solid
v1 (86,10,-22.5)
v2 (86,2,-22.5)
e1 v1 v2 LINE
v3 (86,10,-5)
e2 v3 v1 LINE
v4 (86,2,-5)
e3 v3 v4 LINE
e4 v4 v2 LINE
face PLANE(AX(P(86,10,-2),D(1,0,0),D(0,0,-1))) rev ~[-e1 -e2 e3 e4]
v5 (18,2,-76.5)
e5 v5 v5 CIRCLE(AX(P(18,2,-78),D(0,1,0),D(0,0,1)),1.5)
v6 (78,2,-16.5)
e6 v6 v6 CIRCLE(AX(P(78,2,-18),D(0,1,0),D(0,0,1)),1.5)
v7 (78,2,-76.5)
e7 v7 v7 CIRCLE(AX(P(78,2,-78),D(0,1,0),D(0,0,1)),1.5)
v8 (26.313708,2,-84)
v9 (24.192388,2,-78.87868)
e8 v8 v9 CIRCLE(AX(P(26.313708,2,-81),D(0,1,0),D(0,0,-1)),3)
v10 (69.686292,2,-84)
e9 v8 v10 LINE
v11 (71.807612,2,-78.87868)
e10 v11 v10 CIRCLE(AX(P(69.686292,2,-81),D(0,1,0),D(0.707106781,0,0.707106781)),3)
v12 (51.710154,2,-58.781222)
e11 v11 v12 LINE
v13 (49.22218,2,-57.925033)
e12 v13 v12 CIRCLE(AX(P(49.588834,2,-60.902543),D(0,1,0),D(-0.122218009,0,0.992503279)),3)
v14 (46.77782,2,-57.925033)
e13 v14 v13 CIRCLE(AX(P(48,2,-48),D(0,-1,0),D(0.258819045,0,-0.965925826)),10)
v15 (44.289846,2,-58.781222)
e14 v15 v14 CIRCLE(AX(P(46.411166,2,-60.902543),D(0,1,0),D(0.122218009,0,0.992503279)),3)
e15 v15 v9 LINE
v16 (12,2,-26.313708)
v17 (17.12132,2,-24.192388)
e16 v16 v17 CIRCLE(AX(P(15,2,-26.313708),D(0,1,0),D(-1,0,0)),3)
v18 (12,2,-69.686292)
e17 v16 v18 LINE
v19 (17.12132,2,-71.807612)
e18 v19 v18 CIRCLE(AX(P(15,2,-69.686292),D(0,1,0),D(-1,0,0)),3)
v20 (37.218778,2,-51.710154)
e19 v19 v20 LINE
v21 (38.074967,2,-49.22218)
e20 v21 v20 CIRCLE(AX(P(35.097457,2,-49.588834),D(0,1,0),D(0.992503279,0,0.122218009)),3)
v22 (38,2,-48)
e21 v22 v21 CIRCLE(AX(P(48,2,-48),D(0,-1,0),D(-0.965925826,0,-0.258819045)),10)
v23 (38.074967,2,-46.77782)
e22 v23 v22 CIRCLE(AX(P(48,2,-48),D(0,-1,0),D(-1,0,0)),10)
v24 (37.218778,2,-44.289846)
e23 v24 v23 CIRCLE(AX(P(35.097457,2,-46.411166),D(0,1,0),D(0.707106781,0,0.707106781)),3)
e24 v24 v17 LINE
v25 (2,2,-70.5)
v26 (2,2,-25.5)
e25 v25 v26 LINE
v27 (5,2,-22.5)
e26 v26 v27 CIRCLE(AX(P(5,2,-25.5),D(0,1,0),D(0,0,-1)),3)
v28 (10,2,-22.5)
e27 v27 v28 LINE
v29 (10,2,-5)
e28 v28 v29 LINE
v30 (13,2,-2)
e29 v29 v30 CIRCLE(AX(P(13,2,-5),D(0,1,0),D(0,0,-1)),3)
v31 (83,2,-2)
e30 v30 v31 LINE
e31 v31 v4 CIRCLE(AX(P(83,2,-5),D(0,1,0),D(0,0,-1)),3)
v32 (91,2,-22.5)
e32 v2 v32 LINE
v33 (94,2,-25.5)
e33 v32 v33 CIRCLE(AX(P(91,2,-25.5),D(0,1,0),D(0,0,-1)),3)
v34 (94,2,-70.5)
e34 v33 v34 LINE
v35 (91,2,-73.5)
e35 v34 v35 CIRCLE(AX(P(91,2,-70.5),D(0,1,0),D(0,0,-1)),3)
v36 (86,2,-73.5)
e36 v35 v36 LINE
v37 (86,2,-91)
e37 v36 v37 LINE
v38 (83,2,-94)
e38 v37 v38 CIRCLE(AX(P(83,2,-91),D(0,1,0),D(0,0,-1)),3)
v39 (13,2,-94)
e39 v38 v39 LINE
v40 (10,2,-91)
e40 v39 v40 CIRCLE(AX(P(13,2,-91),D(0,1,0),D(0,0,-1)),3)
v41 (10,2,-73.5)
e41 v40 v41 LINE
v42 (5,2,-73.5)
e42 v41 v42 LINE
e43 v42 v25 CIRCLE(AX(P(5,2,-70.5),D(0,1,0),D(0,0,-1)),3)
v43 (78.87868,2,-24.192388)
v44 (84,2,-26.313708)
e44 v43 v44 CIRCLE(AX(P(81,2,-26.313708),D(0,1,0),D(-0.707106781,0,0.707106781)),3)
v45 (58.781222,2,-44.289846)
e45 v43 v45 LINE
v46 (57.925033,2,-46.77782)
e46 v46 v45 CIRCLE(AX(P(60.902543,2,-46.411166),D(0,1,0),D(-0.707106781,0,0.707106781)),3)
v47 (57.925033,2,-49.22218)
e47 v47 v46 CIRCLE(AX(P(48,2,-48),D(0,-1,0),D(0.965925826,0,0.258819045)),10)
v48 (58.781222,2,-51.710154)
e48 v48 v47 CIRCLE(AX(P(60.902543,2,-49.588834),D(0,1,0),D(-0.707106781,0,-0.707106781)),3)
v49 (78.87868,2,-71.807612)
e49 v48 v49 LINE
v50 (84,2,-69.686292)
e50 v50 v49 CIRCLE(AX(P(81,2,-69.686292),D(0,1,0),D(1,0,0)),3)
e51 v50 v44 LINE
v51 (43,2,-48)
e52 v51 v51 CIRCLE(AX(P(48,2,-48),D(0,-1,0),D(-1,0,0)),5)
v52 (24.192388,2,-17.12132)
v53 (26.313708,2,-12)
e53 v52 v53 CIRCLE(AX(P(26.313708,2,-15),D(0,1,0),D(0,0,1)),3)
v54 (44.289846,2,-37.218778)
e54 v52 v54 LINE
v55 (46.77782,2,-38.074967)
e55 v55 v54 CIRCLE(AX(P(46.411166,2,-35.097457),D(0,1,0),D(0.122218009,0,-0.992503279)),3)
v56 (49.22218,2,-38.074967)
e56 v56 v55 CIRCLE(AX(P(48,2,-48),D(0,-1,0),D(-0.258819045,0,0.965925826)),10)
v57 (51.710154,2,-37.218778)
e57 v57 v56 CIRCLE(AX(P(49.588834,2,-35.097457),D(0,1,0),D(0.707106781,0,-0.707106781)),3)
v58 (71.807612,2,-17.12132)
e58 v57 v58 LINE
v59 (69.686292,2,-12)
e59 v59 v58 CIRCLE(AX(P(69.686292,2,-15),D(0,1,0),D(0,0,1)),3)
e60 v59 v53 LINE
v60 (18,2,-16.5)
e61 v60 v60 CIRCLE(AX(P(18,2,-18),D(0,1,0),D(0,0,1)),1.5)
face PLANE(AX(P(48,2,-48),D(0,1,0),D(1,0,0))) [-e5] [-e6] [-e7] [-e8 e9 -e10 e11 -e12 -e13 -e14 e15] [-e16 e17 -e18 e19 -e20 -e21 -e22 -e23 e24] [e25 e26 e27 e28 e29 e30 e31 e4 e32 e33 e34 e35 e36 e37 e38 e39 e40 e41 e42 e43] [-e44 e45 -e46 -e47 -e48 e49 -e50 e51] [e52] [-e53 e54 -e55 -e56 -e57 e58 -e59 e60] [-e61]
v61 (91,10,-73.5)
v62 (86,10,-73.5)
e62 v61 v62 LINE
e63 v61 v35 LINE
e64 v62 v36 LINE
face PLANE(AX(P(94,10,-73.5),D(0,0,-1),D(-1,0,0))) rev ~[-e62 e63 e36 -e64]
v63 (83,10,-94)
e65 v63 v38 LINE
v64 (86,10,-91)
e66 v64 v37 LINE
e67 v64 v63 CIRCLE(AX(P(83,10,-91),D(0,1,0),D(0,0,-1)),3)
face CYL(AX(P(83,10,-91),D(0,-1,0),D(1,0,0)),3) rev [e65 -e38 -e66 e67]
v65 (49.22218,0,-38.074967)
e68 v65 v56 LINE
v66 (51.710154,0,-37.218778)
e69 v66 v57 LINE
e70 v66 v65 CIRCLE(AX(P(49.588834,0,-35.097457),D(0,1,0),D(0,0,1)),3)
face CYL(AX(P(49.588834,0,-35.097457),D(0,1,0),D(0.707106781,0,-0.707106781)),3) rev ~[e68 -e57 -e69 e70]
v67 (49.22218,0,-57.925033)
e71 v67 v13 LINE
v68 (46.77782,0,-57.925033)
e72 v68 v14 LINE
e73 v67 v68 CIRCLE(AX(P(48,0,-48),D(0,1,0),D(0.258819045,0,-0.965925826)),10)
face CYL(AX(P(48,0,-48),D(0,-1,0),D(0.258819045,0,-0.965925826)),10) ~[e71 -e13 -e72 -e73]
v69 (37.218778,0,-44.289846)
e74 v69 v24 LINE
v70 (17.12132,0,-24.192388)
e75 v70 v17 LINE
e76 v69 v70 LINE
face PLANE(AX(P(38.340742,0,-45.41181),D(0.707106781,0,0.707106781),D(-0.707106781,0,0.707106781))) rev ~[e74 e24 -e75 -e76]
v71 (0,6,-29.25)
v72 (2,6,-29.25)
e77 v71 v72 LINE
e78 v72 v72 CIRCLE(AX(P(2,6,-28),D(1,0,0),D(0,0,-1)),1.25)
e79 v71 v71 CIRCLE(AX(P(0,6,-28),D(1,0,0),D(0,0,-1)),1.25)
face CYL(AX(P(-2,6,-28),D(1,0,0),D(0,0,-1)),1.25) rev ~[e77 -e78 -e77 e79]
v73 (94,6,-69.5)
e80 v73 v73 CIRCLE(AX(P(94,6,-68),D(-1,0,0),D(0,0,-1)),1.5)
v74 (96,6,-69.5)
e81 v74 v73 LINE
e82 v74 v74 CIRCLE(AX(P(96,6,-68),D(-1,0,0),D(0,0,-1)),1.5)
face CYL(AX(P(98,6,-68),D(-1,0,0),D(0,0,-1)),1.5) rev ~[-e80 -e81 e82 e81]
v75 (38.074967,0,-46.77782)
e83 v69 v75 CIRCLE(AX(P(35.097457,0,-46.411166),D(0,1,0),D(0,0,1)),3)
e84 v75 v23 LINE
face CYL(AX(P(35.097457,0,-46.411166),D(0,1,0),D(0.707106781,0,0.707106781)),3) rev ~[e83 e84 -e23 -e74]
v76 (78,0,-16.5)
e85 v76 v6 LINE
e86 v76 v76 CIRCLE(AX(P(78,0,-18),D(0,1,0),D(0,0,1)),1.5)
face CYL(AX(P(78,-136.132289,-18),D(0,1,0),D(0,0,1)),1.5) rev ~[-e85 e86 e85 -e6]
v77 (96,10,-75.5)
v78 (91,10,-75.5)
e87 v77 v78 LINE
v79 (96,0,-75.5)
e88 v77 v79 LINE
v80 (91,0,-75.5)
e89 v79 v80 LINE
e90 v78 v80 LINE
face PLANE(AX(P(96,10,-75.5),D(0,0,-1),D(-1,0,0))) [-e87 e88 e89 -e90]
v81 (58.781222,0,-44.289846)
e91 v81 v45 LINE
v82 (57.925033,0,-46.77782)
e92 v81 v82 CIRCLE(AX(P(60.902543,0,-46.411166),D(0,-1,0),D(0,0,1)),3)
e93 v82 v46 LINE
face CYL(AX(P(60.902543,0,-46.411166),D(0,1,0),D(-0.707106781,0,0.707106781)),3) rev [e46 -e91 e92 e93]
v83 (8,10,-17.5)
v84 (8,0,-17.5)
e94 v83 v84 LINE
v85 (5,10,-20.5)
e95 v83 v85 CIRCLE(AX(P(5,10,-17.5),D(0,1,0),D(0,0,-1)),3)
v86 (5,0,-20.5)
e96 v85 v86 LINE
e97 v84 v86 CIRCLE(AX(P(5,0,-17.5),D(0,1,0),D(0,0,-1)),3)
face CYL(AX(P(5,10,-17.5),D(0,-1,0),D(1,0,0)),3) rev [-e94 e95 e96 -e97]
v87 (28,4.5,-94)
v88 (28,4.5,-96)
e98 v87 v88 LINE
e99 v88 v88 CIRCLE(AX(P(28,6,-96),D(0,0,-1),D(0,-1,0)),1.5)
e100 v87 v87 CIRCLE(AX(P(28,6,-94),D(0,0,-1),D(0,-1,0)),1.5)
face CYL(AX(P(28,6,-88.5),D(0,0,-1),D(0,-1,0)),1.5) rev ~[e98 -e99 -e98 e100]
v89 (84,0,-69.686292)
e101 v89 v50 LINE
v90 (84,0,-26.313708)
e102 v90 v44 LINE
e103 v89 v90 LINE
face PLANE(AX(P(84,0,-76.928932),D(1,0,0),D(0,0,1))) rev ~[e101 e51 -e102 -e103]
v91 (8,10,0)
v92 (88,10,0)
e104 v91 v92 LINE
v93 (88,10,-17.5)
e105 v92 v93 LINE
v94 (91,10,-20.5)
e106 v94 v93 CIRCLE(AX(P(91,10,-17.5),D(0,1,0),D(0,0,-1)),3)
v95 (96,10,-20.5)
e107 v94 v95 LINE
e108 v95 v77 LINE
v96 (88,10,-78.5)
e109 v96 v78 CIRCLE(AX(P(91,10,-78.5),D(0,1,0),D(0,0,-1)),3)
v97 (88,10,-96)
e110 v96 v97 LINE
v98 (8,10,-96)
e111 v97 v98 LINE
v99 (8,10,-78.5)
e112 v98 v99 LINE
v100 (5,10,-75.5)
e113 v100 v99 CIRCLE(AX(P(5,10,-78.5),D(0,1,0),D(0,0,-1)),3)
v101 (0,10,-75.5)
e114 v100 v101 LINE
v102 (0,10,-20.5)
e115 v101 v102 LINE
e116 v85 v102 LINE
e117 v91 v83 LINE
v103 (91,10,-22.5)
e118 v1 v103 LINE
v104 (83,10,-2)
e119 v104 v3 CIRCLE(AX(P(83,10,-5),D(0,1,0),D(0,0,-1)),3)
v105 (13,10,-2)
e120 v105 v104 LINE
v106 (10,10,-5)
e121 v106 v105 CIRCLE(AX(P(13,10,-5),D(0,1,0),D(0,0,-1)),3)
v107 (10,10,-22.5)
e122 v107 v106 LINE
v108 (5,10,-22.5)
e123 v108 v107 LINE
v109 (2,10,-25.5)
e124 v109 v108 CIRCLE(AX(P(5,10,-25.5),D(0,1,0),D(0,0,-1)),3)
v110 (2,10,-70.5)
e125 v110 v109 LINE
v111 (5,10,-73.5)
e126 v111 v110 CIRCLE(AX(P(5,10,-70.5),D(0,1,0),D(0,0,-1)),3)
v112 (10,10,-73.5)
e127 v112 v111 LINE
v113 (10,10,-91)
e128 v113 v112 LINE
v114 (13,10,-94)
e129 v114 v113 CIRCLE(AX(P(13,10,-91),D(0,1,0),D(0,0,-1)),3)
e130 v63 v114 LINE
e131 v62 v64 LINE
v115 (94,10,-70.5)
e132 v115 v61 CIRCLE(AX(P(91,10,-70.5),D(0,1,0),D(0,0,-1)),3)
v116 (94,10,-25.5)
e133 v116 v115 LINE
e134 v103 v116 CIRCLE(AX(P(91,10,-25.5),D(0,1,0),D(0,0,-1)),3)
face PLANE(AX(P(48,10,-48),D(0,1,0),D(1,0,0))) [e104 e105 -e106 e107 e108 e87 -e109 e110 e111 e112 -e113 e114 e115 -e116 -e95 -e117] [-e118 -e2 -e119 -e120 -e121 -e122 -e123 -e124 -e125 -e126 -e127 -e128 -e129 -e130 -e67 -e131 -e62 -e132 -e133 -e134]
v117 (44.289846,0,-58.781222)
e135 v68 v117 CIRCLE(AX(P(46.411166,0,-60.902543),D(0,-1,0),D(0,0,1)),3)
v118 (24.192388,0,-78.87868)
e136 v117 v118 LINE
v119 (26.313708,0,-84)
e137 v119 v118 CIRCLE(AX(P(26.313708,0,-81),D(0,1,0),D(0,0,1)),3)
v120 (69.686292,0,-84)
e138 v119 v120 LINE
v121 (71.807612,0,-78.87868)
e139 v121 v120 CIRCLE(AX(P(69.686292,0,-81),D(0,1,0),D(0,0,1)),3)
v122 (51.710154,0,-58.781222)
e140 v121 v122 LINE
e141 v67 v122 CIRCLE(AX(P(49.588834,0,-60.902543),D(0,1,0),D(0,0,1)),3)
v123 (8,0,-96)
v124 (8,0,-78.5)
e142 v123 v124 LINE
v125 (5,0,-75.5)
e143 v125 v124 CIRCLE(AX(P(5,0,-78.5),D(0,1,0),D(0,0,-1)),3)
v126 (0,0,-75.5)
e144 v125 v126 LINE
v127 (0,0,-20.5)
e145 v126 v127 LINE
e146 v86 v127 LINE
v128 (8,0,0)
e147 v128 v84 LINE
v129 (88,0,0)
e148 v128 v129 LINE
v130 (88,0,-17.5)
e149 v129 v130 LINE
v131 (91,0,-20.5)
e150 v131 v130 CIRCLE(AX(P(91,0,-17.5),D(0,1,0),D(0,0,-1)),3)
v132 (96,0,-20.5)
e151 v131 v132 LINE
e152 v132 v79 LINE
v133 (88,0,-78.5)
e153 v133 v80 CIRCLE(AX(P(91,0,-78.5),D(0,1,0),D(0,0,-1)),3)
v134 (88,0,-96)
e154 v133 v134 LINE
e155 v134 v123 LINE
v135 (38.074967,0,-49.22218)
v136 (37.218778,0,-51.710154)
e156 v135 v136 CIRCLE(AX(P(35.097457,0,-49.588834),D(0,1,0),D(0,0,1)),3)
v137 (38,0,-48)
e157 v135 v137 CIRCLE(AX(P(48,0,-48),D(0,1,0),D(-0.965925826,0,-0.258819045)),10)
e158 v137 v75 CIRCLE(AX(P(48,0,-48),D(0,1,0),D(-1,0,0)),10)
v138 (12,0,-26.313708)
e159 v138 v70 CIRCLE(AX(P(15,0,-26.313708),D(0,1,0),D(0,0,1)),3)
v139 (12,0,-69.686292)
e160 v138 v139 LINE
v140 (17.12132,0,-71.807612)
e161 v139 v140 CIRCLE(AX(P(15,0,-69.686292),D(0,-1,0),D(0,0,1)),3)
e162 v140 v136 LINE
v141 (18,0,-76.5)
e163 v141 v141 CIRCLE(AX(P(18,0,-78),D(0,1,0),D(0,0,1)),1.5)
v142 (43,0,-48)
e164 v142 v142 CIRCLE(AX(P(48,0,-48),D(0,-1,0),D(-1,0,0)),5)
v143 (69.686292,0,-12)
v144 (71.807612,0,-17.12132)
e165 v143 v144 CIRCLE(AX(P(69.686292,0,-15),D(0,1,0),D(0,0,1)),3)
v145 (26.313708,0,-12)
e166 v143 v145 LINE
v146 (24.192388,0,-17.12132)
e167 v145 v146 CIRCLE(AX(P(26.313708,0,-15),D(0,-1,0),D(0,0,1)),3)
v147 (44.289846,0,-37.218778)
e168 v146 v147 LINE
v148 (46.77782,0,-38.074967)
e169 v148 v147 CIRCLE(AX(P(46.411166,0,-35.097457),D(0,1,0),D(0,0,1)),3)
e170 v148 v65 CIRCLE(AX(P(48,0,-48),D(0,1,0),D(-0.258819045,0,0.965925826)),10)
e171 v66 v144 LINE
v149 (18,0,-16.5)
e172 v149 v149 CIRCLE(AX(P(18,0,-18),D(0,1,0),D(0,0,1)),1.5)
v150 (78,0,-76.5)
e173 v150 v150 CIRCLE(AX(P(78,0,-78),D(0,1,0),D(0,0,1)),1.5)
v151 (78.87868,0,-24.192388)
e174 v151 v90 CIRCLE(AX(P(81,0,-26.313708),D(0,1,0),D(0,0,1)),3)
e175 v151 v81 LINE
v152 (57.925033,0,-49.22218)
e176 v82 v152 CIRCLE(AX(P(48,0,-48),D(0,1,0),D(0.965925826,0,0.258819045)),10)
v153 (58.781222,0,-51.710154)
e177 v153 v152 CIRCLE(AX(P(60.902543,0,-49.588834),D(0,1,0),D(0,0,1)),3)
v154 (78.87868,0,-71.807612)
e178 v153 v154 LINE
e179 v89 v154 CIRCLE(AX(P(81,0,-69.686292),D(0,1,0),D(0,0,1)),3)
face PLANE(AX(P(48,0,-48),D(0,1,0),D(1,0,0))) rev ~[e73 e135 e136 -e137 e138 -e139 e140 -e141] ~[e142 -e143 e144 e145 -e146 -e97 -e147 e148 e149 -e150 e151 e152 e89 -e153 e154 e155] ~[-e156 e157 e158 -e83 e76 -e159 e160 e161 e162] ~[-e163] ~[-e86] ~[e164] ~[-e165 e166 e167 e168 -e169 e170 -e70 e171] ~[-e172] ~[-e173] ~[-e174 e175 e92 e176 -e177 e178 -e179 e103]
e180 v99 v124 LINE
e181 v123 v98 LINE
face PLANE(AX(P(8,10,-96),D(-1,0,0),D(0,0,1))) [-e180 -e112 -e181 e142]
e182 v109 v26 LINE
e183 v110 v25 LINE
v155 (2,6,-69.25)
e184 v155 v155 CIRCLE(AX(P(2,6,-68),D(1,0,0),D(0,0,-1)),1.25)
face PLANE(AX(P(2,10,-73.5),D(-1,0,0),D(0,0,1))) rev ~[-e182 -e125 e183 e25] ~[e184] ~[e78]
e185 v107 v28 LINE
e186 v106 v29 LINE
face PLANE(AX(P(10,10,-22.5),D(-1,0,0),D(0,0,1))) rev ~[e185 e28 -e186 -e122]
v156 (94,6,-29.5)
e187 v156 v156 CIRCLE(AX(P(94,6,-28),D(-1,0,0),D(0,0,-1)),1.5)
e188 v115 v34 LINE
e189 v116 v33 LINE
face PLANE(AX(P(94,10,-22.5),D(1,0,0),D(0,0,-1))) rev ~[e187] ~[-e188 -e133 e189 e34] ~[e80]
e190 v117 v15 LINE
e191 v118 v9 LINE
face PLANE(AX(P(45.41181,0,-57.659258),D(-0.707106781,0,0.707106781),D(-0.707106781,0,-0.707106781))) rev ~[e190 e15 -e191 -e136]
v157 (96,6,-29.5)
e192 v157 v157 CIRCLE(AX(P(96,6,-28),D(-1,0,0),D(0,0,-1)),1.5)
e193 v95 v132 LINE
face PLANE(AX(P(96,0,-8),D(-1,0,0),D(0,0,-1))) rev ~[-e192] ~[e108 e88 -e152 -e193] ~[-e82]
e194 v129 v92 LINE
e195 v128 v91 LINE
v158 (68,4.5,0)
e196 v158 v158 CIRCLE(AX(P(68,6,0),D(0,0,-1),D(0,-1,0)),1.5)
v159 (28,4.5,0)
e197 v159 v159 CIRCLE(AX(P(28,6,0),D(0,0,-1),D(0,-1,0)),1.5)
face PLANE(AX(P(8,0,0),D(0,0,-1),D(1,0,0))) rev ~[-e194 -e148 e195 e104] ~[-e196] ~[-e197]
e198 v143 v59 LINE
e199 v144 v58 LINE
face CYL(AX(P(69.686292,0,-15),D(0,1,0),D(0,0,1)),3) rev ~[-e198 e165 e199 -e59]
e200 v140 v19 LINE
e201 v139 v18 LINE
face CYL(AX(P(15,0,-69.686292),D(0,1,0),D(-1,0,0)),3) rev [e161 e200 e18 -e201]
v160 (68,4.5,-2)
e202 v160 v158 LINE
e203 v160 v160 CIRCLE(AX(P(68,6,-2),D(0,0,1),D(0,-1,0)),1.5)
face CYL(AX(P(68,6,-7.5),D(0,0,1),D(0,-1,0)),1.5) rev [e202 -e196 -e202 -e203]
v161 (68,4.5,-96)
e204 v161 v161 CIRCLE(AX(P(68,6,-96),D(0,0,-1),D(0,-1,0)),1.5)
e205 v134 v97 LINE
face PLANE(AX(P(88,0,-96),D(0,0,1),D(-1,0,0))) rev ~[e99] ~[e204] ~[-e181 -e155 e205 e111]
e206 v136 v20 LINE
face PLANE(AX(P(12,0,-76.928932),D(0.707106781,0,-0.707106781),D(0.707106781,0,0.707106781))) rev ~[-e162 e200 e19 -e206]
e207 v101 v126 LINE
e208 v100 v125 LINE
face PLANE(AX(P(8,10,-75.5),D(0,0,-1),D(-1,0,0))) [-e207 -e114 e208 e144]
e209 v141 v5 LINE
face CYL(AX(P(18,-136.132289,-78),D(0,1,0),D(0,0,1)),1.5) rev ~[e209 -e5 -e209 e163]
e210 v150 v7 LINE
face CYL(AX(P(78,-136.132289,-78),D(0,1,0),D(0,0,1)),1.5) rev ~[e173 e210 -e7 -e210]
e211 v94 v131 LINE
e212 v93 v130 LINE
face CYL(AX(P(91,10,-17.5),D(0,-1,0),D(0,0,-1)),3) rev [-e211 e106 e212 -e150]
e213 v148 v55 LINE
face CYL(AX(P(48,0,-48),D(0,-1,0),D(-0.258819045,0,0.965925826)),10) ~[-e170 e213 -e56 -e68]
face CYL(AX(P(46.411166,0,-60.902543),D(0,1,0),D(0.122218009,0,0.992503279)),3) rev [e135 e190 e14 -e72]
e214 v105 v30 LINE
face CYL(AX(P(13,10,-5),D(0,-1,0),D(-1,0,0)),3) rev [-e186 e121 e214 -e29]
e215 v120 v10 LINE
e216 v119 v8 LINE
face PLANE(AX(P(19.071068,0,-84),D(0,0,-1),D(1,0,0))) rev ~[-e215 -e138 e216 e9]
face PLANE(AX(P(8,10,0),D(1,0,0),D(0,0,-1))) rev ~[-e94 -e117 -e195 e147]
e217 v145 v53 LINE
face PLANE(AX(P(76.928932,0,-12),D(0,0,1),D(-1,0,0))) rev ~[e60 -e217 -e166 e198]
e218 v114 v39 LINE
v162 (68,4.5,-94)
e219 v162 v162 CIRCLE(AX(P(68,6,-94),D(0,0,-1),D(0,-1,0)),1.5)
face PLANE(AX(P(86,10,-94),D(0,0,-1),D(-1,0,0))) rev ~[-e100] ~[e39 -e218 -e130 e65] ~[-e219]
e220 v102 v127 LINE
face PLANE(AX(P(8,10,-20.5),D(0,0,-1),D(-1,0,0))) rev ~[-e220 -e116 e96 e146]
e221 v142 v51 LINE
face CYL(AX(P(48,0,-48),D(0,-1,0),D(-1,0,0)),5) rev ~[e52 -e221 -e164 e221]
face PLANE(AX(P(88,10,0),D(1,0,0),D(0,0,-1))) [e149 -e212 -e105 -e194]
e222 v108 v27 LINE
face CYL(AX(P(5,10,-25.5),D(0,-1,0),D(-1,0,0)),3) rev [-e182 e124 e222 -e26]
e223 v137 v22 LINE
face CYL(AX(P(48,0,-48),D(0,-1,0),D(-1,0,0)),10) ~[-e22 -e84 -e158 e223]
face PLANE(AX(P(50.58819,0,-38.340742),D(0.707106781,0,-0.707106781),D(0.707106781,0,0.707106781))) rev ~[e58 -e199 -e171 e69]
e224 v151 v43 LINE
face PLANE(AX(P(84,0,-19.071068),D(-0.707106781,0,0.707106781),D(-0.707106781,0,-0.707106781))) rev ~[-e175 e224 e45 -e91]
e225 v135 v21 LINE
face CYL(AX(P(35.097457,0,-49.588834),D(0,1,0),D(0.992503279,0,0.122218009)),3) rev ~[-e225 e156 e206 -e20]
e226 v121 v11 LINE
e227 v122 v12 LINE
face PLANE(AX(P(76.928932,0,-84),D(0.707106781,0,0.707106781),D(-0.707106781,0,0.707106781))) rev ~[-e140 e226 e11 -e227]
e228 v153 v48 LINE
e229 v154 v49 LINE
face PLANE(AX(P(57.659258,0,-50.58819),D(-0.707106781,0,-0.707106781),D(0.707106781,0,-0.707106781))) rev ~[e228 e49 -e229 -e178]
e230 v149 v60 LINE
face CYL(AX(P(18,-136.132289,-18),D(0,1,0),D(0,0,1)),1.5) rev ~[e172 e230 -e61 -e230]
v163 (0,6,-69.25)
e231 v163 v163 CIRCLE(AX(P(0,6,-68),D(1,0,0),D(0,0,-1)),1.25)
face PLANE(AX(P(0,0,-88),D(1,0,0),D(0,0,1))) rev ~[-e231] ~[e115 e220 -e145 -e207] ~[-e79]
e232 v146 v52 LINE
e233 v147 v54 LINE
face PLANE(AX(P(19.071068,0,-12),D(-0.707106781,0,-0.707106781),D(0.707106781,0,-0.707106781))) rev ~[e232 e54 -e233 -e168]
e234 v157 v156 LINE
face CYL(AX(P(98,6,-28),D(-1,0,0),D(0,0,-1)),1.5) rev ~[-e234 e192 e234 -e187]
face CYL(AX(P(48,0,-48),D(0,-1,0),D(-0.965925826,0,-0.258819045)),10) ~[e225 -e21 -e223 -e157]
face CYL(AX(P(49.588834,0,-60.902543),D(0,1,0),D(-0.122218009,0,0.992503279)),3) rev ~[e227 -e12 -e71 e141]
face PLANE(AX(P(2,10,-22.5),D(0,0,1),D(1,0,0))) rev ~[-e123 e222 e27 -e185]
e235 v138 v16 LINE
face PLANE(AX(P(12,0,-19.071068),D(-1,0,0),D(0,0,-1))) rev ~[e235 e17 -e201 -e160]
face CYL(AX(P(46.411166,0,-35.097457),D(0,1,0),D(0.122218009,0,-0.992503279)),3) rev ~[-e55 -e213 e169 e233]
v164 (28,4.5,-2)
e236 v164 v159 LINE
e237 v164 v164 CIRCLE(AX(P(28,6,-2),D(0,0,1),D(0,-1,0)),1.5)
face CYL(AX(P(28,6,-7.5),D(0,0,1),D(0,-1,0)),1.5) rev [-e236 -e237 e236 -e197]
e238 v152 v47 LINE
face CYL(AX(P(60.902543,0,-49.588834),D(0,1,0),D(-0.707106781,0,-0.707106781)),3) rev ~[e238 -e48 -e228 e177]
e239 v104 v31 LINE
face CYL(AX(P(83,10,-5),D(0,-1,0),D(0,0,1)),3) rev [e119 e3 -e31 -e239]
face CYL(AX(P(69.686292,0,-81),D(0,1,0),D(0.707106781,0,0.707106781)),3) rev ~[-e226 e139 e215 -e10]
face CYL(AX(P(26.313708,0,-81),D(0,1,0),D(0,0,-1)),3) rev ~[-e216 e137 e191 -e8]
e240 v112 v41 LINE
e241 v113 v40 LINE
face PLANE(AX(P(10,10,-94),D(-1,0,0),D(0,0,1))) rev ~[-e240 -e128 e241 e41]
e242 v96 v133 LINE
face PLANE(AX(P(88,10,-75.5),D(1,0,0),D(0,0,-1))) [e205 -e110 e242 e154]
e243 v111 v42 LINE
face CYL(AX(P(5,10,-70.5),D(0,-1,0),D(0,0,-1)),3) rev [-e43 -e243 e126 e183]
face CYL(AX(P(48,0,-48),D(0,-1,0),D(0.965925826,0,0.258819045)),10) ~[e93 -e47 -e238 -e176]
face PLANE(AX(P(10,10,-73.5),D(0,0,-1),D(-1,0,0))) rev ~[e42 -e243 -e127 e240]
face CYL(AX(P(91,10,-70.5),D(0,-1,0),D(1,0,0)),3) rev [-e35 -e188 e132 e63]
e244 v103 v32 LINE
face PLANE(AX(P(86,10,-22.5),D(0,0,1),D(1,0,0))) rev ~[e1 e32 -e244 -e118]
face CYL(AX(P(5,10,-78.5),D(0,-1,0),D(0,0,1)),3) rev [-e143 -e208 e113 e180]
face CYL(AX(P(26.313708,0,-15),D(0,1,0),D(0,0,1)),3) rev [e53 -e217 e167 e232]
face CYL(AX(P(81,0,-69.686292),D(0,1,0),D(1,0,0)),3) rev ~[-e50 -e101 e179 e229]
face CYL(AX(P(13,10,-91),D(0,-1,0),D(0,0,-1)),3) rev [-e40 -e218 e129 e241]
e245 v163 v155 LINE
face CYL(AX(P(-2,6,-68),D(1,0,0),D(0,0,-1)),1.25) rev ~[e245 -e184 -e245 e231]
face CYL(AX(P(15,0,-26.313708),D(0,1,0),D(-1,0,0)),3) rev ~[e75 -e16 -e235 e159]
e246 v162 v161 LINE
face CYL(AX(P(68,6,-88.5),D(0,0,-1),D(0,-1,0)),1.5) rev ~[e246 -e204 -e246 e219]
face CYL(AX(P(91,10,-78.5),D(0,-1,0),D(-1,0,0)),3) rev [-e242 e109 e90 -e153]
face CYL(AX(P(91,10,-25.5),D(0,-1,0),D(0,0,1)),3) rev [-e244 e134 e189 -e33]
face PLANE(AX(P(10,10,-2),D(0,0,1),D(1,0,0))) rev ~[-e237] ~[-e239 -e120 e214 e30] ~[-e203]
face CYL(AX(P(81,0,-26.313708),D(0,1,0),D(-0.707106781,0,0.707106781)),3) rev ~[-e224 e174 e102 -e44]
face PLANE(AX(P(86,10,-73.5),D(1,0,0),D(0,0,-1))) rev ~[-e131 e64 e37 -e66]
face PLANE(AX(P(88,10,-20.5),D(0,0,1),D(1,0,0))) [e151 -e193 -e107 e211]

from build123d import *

# Parameters (mm, degrees)
BOSS_EXTRUDE1_DEPTH             = 10
SKETCH2_R                       = 5
CUT_EXTRUDE1_DEPTH              = 11
FILLET1_R                       = 3
CUT_EXTRUDE4_DEPTH              = 11
CUT_EXTRUDE5_DEPTH              = 8
FILLET2_R                       = 3
F_3_0MM_DOWEL_HOLE1_AT_2_COUNT  = 2
F_3_0MM_DOWEL_HOLE1_AT_2_PITCH  = 40
TAP_DRILL_FOR_M3X0_5_TAP1_D     = 2.5
TAP_DRILL_FOR_M3X0_5_TAP1_DEPTH = 2
F_3_0MM_DOWEL_HOLE3_D           = 3
F_3_0MM_DOWEL_HOLE4_D           = 3
F_3_0MM_DOWEL_HOLE4_DEPTH       = 2


with BuildPart() as part:
    # Sketch1 → Boss-Extrude1 (new body)
    with BuildSketch(Plane(origin=(0, 0, 0), x_dir=(1, 0, 0), z_dir=(0, 1, 0))):
        Polygon((0, 88), (0, 8), (8, 0), (88, 0), (96, 8), (96, 88), (88, 96), (8, 96), align=None)
    extrude(amount=BOSS_EXTRUDE1_DEPTH)

    # Sketch2 → Cut-Extrude1 (cut, through all)
    with BuildSketch(Plane(origin=(0, 0, 0), x_dir=(-1, 0, 0), z_dir=(0, -1, 0))):
        with BuildLine():
            Line((-45.411809549, 57.659258263), (-19.071067812, 84))
            Line((-19.071067812, 84), (-76.928932188, 84))
            Line((-76.928932188, 84), (-50.588190451, 57.659258263))
            ThreePointArc((-50.588190451, 57.659258263), (-48, 58), (-45.411809549, 57.659258263))
        make_face()
        with BuildLine():
            Line((-12, 76.928932188), (-38.340741737, 50.588190451))
            ThreePointArc((-38.340741737, 50.588190451), (-38.085551386, 49.305261922), (-38, 48))
            ThreePointArc((-38, 48), (-38.085551386, 46.694738078), (-38.340741737, 45.411809549))
            Line((-38.340741737, 45.411809549), (-12, 19.071067812))
            Line((-12, 19.071067812), (-12, 76.928932188))
        make_face()
        with BuildLine():
            Line((-19.071067812, 12), (-45.411809549, 38.340741737))
            ThreePointArc((-45.411809549, 38.340741737), (-48, 38), (-50.588190451, 38.340741737))
            Line((-50.588190451, 38.340741737), (-76.928932188, 12))
            Line((-76.928932188, 12), (-19.071067812, 12))
        make_face()
        with BuildLine():
            ThreePointArc((-57.659258263, 45.411809549), (-58, 48), (-57.659258263, 50.588190451))
            Line((-57.659258263, 50.588190451), (-84, 76.928932188))
            Line((-84, 76.928932188), (-84, 19.071067812))
            Line((-84, 19.071067812), (-57.659258263, 45.411809549))
        make_face()
        with Locations((-48, 48)):
            Circle(SKETCH2_R)
    extrude(amount=-CUT_EXTRUDE1_DEPTH, mode=Mode.SUBTRACT)

    # Fillet1
    fillet1_edges = [part.edges().sort_by_distance(p)[0] for p in [
        (50.588190451, 5, -38.340741737),
        (45.411809549, 5, -38.340741737),
        (19.071067812, 5, -12),
        (76.928932188, 5, -12),
        (38.340741737, 5, -45.411809549),
        (38.340741737, 5, -50.588190451),
        (12, 5, -76.928932188),
        (12, 5, -19.071067812),
        (57.659258263, 5, -50.588190451),
        (57.659258263, 5, -45.411809549),
        (84, 5, -19.071067812),
        (84, 5, -76.928932188),
        (45.411809549, 5, -57.659258263),
        (50.588190451, 5, -57.659258263),
        (76.928932188, 5, -84),
        (19.071067812, 5, -84),
    ]]
    fillet(fillet1_edges, radius=FILLET1_R)

    # Sketch5 → Cut-Extrude4 (cut, through all)
    with BuildSketch(Plane(origin=(0, 10, 0), x_dir=(1, 0, 0), z_dir=(0, 1, 0))):
        Polygon((8, 0), (8, 20.5), (0, 20.5), (0, 8), align=None)
        Polygon((96, 8), (88, 0), (88, 20.5), (96, 20.5), align=None)
        Polygon((96, 75.5), (88, 75.5), (88, 96), (96, 88), align=None)
        Polygon((8, 96), (8, 75.5), (0, 75.5), (0, 88), align=None)
    extrude(amount=-CUT_EXTRUDE4_DEPTH, mode=Mode.SUBTRACT)

    # Sketch6 → Cut-Extrude5 (cut)
    with BuildSketch(Plane(origin=(0, 10, 0), x_dir=(1, 0, 0), z_dir=(0, 1, 0))):
        Polygon((86, 73.5), (86, 94), (10, 94), (10, 73.5), (2, 73.5), (2, 22.5), (10, 22.5), (10, 2), (86, 2), (86, 22.5), (94, 22.5), (94, 73.5), align=None)
    extrude(amount=-CUT_EXTRUDE5_DEPTH, mode=Mode.SUBTRACT)

    # Fillet2
    fillet2_edges = [part.edges().sort_by_distance(p)[0] for p in [
        (8, 5, -75.5),
        (88, 5, -75.5),
        (88, 5, -20.5),
        (8, 5, -20.5),
        (94, 6, -73.5),
        (94, 6, -22.5),
        (86, 6, -2),
        (10, 6, -2),
        (2, 6, -22.5),
        (2, 6, -73.5),
        (10, 6, -94),
        (86, 6, -94),
    ]]
    fillet(fillet2_edges, radius=FILLET2_R)

    # Sketch13 → Ø3.0mm Dowel Hole1 (revolve, cut)
    with BuildSketch(Plane(origin=(28, 6, 0), x_dir=(0, -1, 0), z_dir=(1, 0, 0))):
        Polygon((0, 0), (0, 8.401290929), (1.5, 7.5), (1.5, 0), align=None)
    f_3_0mm_dowel_hole1 = revolve(axis=Axis((28, 6, 6.35), (0, 0, -1)), mode=Mode.SUBTRACT)

    # Ø3.0mm Dowel Hole1 at 2: Ø3.0mm Dowel Hole1 ×2
    with Locations(*[(i * F_3_0MM_DOWEL_HOLE1_AT_2_PITCH, 0, 0) for i in range(1, F_3_0MM_DOWEL_HOLE1_AT_2_COUNT)]):
        add(f_3_0mm_dowel_hole1, mode=Mode.SUBTRACT)

    # Tap Drill for M3x0.5 Tap1
    with Locations(Plane.ZY):
        with Locations((-68, 6), (-28, 6)):
            Hole(TAP_DRILL_FOR_M3X0_5_TAP1_D / 2, depth=TAP_DRILL_FOR_M3X0_5_TAP1_DEPTH)

    # Mirror1: Ø3.0mm Dowel Hole1 across plane
    add(f_3_0mm_dowel_hole1.mirror(Plane.XY.offset(-48)), mode=Mode.SUBTRACT)

    # Mirror1 copy 1 sketch → Mirror1 copy 1 (revolve, cut)
    with BuildSketch(Plane(origin=(68, 6, -96), x_dir=(0, -1, 0), z_dir=(1, 0, 0))):
        Polygon((0, 0), (0, -8.401290929), (1.5, -7.5), (1.5, 0), align=None)
    revolve(axis=Axis((68, 6, -102.35), (0, 0, -1)), mode=Mode.SUBTRACT)

    # Ø3.0mm Dowel Hole3 (through all)
    with Locations(Plane(origin=(78, 0, -18), x_dir=(0, 0, -1), z_dir=(0, -1, 0))):
        with Locations((0, 0), (60, 0), (60, -60), (0, -60)):
            Hole(F_3_0MM_DOWEL_HOLE3_D / 2)

    # Ø3.0mm Dowel Hole4
    with Locations(Plane(origin=(96, 6, -68), x_dir=(0, 0, 1), z_dir=(1, 0, 0))):
        with Locations((0, 0), (40, 0)):
            Hole(F_3_0MM_DOWEL_HOLE4_D / 2, depth=F_3_0MM_DOWEL_HOLE4_DEPTH)


solid = part.part
